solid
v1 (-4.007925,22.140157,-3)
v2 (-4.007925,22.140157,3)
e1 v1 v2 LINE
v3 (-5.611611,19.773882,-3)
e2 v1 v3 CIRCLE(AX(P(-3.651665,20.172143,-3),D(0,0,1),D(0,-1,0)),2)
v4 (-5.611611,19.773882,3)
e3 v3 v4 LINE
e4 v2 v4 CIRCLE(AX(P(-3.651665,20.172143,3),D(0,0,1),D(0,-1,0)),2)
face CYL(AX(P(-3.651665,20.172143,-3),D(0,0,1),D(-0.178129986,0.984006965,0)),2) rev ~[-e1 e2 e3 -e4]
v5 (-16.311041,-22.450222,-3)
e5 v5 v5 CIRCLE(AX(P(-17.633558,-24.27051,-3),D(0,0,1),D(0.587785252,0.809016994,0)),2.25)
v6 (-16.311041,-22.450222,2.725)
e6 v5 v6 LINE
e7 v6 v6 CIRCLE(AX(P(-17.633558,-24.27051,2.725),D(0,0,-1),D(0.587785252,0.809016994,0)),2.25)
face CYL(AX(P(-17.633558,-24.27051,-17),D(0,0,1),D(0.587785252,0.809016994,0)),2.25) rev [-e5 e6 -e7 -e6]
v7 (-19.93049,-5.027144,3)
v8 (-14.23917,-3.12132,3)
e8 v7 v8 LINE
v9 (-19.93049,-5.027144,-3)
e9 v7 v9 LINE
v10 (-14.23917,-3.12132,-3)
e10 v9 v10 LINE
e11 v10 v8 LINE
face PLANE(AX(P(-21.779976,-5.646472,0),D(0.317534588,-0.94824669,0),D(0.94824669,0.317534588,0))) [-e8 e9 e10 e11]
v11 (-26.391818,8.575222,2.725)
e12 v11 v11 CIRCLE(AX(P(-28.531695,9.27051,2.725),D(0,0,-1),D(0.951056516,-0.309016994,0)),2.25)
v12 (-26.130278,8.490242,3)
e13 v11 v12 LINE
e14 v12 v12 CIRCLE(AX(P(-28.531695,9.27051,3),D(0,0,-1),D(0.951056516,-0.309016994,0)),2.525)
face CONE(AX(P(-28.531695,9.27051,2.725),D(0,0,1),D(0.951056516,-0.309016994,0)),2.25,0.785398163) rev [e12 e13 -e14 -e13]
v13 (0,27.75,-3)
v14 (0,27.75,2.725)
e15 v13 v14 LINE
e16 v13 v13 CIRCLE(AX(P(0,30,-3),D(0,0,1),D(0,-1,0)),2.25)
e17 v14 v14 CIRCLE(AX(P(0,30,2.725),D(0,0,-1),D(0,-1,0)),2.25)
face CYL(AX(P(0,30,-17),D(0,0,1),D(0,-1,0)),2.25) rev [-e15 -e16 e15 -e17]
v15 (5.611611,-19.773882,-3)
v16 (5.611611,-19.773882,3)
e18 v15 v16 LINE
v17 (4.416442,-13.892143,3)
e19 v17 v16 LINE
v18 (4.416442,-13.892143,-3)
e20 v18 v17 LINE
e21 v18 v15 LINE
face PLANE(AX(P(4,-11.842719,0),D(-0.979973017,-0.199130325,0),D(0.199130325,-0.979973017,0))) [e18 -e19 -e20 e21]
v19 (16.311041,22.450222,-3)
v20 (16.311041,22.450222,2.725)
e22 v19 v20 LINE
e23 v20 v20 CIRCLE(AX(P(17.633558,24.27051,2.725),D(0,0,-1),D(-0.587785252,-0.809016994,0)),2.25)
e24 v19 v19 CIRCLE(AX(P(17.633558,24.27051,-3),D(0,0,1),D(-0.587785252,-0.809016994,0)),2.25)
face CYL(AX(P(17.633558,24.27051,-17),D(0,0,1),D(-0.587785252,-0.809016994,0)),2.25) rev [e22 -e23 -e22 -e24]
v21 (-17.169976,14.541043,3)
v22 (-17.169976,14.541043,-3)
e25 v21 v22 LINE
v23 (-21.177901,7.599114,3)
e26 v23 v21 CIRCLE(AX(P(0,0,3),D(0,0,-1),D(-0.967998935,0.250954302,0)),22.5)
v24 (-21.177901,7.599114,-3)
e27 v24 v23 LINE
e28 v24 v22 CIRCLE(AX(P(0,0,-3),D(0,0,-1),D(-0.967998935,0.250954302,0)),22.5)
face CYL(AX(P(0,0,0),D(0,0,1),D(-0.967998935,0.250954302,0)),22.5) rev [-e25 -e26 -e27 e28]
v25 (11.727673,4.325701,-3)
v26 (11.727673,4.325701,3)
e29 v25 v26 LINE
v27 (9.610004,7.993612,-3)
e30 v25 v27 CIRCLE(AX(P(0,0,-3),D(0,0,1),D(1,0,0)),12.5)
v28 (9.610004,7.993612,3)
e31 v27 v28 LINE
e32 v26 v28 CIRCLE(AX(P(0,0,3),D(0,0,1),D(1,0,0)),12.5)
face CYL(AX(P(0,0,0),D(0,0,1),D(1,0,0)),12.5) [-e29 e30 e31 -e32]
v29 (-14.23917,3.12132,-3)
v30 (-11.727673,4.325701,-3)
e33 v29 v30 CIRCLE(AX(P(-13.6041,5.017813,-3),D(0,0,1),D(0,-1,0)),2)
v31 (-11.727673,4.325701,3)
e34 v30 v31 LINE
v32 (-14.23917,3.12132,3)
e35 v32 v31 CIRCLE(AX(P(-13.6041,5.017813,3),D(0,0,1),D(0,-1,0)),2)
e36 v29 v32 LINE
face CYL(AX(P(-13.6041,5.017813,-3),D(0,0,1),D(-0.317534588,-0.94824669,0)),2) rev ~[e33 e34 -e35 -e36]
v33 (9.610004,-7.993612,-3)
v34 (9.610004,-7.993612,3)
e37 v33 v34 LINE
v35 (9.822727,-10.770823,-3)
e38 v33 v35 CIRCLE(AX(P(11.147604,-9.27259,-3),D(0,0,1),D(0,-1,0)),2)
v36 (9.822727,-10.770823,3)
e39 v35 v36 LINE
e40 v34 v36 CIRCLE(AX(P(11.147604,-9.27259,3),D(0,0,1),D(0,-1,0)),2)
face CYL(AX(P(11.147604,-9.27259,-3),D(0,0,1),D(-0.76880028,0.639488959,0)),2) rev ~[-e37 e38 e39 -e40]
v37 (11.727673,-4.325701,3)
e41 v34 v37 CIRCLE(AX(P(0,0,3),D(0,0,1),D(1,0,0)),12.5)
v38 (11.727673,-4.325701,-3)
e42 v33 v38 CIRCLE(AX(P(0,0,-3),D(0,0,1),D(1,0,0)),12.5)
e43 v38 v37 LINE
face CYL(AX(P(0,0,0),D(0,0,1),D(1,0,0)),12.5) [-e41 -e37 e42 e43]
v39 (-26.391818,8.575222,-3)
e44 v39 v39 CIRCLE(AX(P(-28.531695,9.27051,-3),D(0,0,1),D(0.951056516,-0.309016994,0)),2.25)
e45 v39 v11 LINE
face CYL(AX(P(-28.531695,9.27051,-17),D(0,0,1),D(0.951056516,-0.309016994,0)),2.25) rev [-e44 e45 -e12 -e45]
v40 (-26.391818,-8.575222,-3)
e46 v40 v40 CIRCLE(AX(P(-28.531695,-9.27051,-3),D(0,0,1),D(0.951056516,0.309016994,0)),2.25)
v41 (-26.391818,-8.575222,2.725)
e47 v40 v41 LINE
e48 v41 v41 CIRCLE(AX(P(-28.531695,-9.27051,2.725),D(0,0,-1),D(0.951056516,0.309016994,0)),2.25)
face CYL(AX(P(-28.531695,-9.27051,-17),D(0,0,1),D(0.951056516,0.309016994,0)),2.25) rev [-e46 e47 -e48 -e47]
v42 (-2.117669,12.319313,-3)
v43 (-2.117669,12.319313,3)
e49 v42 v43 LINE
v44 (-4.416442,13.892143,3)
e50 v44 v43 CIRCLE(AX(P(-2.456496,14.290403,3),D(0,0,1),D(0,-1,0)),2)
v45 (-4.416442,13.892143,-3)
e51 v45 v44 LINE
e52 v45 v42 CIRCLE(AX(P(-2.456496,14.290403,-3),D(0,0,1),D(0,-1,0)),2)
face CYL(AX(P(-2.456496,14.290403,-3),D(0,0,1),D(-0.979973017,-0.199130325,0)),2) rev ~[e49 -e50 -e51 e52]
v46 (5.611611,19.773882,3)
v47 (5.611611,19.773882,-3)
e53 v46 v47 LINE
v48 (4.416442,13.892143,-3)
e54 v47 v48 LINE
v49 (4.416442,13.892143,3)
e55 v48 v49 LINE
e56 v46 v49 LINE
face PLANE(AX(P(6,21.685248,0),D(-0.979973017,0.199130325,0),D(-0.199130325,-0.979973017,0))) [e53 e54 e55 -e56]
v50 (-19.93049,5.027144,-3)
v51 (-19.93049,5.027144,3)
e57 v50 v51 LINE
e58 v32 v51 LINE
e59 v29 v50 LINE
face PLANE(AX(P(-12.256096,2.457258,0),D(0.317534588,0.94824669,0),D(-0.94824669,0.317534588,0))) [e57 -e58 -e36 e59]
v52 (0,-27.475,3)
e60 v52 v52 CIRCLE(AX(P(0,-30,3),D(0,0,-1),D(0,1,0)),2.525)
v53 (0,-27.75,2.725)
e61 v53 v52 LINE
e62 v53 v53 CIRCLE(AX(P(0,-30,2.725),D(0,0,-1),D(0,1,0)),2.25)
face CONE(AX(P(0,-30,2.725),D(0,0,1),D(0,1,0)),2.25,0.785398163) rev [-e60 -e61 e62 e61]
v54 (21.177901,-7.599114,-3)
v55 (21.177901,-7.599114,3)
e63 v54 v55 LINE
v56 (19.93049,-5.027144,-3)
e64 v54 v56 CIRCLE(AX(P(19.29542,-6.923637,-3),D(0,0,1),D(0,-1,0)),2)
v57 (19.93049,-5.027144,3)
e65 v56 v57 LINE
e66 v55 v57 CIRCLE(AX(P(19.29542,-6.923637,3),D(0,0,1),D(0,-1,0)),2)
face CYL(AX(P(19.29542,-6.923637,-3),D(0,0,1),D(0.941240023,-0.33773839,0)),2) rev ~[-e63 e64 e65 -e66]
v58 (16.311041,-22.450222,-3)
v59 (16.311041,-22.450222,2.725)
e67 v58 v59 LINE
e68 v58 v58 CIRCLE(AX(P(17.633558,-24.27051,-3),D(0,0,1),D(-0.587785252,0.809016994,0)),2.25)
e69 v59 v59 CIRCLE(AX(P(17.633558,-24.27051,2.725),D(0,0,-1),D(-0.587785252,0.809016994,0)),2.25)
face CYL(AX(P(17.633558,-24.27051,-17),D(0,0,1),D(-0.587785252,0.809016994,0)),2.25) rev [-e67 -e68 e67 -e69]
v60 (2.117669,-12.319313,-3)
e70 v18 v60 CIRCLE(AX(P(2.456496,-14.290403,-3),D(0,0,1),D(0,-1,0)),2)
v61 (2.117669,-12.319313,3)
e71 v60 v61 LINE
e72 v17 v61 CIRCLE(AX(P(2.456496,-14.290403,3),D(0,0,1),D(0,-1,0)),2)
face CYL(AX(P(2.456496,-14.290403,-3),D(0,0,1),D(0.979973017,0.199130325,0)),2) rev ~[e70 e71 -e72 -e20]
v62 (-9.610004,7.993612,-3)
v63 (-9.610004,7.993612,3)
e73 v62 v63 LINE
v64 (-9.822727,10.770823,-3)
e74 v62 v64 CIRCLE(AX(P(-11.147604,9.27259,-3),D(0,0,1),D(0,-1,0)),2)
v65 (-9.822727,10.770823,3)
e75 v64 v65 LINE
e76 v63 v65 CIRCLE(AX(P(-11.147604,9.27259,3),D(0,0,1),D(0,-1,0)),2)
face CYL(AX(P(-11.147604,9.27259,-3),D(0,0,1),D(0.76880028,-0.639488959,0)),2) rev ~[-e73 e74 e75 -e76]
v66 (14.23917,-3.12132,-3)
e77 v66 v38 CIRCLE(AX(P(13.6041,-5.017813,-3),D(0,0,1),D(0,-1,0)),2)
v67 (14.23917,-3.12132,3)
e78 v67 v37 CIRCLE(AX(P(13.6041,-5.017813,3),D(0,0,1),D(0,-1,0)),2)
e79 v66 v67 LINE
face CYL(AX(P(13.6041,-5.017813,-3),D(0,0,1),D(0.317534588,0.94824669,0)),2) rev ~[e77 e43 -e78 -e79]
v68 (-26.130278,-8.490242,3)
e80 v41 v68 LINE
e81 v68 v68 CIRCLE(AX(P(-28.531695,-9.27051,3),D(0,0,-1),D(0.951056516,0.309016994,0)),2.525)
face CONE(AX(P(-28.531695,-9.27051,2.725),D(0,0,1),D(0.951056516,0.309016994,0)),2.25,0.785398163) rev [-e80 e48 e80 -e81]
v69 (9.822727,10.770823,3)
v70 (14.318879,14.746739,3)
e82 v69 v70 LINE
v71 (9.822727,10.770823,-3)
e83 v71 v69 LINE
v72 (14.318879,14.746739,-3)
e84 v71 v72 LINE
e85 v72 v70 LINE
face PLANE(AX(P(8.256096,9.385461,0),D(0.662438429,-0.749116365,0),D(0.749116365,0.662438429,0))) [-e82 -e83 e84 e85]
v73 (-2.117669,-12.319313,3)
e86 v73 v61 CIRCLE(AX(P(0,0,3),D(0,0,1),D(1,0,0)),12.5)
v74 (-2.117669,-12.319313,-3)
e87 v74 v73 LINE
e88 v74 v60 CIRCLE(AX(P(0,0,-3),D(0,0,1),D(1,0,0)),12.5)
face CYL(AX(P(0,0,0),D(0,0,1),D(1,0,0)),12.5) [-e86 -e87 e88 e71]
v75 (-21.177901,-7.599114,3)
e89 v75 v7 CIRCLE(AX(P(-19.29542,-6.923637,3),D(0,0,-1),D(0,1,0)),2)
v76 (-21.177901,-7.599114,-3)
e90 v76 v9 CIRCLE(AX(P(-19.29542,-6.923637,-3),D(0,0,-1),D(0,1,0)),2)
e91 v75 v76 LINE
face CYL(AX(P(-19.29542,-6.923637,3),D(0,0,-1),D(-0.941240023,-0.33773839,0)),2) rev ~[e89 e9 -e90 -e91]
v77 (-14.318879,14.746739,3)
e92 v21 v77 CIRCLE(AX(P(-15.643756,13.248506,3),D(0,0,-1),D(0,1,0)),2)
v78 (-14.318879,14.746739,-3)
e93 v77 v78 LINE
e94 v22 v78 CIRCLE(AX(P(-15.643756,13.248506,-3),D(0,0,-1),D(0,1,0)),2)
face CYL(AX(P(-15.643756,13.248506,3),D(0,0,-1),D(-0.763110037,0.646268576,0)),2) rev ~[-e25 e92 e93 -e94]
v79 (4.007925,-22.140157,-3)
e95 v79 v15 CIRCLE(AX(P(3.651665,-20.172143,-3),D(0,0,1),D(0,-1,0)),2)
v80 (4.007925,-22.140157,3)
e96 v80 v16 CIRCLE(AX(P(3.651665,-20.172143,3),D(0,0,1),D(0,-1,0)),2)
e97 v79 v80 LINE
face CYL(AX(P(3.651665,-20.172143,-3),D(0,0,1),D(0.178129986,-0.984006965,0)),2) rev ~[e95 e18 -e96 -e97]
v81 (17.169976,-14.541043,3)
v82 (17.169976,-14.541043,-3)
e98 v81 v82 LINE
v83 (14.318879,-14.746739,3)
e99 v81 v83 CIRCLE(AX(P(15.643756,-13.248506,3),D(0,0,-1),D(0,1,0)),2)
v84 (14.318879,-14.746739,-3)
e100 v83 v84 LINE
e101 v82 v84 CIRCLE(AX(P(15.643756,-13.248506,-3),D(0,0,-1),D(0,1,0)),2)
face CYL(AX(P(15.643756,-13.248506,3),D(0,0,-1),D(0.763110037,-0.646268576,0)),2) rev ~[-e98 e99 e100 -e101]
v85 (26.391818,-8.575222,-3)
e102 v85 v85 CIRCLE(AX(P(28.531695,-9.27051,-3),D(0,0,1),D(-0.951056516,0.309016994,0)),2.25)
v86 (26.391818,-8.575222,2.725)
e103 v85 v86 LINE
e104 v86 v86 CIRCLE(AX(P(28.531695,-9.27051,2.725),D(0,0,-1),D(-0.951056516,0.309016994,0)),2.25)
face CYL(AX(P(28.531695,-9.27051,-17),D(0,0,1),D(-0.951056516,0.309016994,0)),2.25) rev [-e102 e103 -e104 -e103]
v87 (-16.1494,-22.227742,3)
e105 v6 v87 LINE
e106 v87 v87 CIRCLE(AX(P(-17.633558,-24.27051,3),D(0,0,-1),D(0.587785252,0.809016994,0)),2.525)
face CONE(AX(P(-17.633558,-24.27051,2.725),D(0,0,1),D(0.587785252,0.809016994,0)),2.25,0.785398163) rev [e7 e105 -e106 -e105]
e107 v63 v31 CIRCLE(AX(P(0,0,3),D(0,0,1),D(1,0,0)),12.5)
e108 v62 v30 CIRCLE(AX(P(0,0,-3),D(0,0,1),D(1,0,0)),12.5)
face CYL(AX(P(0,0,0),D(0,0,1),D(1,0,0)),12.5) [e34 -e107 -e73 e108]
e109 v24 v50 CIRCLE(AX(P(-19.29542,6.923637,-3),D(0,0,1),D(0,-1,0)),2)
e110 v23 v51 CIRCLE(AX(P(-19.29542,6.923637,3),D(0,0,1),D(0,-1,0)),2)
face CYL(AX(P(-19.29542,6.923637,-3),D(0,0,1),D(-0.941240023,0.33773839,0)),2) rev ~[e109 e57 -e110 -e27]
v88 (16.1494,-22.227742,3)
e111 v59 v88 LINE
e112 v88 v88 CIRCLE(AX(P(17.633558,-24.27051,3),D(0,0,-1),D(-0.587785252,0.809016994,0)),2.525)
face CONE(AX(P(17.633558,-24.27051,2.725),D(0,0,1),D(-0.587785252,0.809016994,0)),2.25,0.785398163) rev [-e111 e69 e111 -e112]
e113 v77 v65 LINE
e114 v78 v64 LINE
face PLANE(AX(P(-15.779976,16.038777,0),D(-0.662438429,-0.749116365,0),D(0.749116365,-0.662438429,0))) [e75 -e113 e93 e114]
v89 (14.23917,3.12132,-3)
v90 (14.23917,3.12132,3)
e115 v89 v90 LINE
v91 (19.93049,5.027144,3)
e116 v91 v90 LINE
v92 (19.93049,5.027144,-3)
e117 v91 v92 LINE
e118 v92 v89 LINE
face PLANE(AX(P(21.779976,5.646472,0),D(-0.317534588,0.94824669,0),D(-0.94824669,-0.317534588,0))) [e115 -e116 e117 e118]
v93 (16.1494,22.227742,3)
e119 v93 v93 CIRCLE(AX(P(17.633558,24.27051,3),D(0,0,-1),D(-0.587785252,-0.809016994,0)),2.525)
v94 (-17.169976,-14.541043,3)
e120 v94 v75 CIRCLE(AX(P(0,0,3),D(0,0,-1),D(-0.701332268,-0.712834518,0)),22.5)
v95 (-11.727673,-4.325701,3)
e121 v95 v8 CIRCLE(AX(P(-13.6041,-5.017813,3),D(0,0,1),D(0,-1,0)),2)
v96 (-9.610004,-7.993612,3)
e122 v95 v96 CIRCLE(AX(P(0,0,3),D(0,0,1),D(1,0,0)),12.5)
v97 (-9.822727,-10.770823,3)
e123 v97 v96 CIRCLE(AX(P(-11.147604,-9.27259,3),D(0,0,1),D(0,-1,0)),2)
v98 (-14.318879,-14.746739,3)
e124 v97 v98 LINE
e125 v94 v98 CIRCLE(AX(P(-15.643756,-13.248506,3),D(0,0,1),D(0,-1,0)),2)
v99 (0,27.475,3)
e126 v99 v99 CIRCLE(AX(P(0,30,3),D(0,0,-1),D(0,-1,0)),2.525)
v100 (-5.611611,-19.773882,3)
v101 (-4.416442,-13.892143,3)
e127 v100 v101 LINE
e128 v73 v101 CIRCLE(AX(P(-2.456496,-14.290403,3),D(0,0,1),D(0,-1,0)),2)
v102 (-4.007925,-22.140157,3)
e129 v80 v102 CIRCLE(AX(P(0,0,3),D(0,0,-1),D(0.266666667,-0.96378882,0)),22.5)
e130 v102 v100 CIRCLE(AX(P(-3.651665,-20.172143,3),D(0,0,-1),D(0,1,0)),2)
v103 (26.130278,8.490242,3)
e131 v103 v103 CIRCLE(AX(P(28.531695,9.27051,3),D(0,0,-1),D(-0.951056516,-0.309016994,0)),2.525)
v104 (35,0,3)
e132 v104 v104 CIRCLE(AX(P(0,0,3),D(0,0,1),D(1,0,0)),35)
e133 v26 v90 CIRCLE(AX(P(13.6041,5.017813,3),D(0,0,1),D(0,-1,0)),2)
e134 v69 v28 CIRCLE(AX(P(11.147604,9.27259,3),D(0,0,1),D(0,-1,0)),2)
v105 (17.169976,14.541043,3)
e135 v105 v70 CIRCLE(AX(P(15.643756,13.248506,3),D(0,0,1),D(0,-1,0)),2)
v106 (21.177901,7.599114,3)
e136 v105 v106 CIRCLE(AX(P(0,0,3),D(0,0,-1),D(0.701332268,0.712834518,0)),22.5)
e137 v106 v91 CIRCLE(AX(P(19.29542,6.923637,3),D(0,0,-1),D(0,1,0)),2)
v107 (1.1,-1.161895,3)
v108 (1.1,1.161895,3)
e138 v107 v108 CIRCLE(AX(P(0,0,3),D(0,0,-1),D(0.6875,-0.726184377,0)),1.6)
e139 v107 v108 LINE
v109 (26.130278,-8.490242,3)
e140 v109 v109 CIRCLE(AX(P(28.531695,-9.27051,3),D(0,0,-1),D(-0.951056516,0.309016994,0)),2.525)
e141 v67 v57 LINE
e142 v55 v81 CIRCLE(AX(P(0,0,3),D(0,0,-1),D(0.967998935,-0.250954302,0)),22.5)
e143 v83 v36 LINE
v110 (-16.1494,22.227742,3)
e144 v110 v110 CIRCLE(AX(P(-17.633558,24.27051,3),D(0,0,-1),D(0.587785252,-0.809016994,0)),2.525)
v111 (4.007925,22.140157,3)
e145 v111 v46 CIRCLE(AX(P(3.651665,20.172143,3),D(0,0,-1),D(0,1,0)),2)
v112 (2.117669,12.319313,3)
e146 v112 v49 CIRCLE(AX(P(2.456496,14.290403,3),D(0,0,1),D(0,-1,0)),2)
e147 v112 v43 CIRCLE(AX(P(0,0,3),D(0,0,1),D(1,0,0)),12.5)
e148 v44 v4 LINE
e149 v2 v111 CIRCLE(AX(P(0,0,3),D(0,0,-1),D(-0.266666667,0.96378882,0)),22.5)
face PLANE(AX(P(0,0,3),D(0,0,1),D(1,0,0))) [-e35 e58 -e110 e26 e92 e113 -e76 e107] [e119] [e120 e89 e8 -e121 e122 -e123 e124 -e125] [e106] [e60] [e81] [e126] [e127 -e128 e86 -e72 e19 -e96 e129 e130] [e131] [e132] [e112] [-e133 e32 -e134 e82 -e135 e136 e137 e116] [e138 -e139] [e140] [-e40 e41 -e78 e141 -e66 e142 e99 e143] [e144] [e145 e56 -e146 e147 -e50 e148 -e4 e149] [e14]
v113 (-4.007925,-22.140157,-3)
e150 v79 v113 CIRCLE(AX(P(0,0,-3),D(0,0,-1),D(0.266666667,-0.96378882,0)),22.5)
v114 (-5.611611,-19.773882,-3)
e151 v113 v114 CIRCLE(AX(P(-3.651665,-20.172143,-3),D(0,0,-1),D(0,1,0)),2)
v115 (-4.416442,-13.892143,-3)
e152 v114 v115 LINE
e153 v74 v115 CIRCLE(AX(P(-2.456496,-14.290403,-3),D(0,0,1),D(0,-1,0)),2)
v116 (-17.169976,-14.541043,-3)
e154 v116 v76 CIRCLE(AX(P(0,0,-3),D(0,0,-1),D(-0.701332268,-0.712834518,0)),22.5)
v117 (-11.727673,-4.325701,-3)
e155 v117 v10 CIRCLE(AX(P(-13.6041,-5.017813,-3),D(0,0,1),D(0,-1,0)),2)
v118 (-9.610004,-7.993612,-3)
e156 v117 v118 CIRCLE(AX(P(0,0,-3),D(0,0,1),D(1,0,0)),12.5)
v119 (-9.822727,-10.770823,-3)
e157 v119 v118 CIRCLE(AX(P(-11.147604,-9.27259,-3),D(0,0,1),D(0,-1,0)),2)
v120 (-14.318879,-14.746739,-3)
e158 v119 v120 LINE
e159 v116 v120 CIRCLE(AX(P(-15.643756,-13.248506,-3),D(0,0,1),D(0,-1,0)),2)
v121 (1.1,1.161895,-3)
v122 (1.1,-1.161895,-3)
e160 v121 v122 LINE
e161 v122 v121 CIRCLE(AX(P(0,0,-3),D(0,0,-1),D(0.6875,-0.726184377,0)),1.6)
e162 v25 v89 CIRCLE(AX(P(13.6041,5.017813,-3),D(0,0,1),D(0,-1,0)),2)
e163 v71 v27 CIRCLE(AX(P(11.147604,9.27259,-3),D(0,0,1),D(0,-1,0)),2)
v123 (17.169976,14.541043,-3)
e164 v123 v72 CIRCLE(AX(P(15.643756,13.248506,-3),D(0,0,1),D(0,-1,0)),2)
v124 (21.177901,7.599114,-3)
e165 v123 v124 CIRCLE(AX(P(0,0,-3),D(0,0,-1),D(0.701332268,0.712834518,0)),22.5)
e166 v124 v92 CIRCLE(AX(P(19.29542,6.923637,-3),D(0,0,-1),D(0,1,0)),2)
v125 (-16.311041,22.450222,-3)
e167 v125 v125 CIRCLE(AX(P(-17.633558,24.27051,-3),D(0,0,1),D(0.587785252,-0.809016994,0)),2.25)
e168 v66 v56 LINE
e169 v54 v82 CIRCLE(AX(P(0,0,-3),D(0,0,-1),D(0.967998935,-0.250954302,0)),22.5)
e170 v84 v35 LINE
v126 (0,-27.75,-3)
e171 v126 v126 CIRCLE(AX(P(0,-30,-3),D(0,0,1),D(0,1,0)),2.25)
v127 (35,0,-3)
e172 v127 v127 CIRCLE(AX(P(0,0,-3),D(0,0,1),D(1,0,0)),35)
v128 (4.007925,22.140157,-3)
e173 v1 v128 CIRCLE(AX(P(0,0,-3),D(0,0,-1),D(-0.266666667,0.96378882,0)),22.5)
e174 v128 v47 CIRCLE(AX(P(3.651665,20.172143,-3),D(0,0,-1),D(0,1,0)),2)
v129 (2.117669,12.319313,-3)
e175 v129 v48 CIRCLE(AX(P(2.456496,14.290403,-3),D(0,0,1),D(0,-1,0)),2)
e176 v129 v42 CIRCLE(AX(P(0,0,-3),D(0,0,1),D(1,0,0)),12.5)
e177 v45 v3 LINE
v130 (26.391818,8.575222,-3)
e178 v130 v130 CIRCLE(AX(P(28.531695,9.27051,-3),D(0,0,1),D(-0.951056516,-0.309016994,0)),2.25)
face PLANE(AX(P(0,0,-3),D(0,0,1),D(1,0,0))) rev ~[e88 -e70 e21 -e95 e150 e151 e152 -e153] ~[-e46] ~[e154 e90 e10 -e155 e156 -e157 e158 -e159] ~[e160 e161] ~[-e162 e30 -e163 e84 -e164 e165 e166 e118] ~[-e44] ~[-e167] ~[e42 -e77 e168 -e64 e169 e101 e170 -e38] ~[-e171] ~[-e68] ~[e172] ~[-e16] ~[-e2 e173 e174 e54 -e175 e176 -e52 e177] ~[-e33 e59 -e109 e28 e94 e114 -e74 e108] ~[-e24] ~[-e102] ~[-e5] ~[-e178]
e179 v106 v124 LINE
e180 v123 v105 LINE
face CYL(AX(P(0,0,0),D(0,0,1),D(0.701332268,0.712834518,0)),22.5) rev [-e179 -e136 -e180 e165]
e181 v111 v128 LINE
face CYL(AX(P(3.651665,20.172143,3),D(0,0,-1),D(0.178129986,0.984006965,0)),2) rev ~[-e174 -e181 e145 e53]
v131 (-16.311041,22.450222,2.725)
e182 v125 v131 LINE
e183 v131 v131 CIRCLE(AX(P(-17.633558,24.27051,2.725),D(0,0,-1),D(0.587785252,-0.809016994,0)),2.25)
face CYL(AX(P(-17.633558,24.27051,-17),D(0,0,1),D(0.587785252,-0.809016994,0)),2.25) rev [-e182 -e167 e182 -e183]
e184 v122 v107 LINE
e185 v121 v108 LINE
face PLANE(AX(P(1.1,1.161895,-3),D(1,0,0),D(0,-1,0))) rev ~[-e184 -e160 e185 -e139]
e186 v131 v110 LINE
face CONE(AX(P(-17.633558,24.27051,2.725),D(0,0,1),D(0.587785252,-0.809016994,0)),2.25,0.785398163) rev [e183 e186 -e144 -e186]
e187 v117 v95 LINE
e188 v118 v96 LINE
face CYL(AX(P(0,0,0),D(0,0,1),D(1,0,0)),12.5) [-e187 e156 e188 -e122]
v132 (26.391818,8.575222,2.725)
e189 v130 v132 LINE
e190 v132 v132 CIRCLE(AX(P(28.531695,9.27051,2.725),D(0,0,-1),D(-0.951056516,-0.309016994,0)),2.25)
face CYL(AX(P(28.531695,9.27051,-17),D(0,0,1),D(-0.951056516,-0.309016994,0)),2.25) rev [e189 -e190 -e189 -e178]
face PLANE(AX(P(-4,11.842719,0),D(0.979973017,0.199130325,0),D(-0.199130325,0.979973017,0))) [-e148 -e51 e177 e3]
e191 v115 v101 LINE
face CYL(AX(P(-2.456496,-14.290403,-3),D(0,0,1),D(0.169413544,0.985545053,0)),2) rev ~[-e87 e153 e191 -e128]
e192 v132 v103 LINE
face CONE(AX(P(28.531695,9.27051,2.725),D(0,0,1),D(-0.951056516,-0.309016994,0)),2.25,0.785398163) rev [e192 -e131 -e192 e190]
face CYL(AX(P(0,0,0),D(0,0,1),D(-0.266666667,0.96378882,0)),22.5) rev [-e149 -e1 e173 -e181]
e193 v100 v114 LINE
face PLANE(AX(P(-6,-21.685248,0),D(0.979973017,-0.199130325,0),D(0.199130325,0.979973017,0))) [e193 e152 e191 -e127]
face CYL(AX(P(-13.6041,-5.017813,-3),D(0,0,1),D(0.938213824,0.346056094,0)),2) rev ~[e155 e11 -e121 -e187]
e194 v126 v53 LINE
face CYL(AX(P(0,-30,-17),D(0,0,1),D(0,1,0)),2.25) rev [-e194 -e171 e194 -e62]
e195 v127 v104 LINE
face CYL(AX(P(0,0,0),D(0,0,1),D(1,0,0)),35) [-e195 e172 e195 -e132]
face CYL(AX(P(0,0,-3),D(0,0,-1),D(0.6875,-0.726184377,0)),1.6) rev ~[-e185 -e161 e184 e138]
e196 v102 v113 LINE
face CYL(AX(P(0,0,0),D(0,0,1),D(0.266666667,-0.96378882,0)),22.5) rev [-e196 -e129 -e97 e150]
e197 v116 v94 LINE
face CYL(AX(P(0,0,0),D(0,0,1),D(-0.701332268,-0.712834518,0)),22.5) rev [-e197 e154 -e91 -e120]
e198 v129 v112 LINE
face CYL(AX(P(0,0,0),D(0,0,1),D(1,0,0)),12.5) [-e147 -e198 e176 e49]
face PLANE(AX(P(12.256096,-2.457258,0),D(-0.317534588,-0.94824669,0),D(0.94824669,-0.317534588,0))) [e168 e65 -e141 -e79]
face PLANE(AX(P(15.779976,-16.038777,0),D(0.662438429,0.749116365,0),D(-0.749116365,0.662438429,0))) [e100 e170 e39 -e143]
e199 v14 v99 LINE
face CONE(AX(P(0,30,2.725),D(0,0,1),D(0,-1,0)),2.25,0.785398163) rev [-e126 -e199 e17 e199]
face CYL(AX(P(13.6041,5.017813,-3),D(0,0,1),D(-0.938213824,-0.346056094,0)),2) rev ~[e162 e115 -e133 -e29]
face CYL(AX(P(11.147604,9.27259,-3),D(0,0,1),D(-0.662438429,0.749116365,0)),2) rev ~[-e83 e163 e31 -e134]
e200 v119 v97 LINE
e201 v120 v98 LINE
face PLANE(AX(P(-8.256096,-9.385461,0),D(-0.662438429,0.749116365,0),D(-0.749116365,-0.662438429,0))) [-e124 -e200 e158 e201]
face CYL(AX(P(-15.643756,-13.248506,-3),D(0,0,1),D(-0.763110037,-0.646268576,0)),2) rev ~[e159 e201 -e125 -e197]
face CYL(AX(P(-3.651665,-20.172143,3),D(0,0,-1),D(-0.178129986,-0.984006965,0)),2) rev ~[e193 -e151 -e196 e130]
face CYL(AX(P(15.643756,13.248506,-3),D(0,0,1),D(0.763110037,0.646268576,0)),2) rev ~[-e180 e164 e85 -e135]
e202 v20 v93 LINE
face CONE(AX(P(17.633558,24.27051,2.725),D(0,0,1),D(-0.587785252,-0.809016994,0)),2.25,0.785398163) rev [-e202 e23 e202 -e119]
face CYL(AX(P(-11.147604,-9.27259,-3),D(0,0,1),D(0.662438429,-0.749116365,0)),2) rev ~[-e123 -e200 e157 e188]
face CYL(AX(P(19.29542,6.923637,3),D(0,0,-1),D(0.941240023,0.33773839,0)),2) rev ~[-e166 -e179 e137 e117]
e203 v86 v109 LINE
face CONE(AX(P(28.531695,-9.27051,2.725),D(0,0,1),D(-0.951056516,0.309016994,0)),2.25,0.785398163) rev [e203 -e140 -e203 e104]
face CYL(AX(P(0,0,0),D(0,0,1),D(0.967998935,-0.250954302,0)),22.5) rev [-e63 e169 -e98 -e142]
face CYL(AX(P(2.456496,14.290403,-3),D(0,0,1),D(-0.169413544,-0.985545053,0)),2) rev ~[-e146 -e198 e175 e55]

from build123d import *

# Parameters (mm, degrees)
SKETCH1_R               = 35
SKETCH1_R_2             = 12.5
BOSS_EXTRUDE2_DEPTH     = 3
FILLET1_R               = 2
CUT_EXTRUDE1_DEPTH      = 50.859803449
CUT_EXTRUDE1_DEPTH_BACK = 50.859803449
CIRPATTERN4_COUNT       = 10


with BuildPart() as part:
    # Sketch1 → Boss-Extrude2 (new, symmetric)
    with BuildSketch(Plane.XY):
        Circle(SKETCH1_R)
        with BuildLine():
            ThreePointArc((-8.256095748, 9.385461256), (-6.25, 10.825317547), (-4, 11.842719282))
            Line((-4, 11.842719282), (-6, 21.685248442))
            ThreePointArc((-6, 21.685248442), (0, 22.5), (6, 21.685248442))
            Line((6, 21.685248442), (4, 11.842719282))
            ThreePointArc((4, 11.842719282), (6.25, 10.825317547), (8.256095748, 9.385461256))
            Line((8.256095748, 9.385461256), (15.779976038, 16.038776644))
            ThreePointArc((15.779976038, 16.038776644), (19.485571585, 11.25), (21.779976038, 5.646471798))
            Line((21.779976038, 5.646471798), (12.256095748, 2.457258026))
            ThreePointArc((12.256095748, 2.457258026), (12.438874484, 1.234666584), (12.5, 0))
            ThreePointArc((12.5, 0), (12.438874484, -1.234666584), (12.256095748, -2.457258026))
            Line((12.256095748, -2.457258026), (21.779976038, -5.646471798))
            ThreePointArc((21.779976038, -5.646471798), (19.485571585, -11.25), (15.779976038, -16.038776644))
            Line((15.779976038, -16.038776644), (8.256095748, -9.385461256))
            ThreePointArc((8.256095748, -9.385461256), (6.25, -10.825317547), (4, -11.842719282))
            Line((4, -11.842719282), (6, -21.685248442))
            ThreePointArc((6, -21.685248442), (0, -22.5), (-6, -21.685248442))
            Line((-6, -21.685248442), (-4, -11.842719282))
            ThreePointArc((-4, -11.842719282), (-6.25, -10.825317547), (-8.256095748, -9.385461256))
            Line((-8.256095748, -9.385461256), (-15.779976038, -16.038776644))
            ThreePointArc((-15.779976038, -16.038776644), (-19.485571585, -11.25), (-21.779976038, -5.646471798))
            Line((-21.779976038, -5.646471798), (-12.256095748, -2.457258026))
            ThreePointArc((-12.256095748, -2.457258026), (-12.5, 0), (-12.256095748, 2.457258026))
            Line((-12.256095748, 2.457258026), (-21.779976038, 5.646471798))
            ThreePointArc((-21.779976038, 5.646471798), (-19.485571585, 11.25), (-15.779976038, 16.038776644))
            Line((-15.779976038, 16.038776644), (-8.256095748, 9.385461256))
        make_face(mode=Mode.SUBTRACT)
        Circle(SKETCH1_R_2)
    extrude(amount=BOSS_EXTRUDE2_DEPTH, both=True)

    # Fillet1
    fillet1_edges = [part.edges().sort_by_distance(p)[0] for p in [
        (8.256095748, -9.385461256, 0),
        (15.779976038, -16.038776644, 0),
        (21.779976038, -5.646471798, 0),
        (12.256095748, -2.457258026, 0),
        (-6, -21.685248442, 0),
        (6, -21.685248442, 0),
        (4, -11.842719282, 0),
        (-4, -11.842719282, 0),
        (-21.779976038, -5.646471798, 0),
        (-15.779976038, -16.038776644, 0),
        (-8.256095748, -9.385461256, 0),
        (-12.256095748, -2.457258026, 0),
        (-15.779976038, 16.038776644, 0),
        (-21.779976038, 5.646471798, 0),
        (-12.256095748, 2.457258026, 0),
        (-8.256095748, 9.385461256, 0),
        (6, 21.685248442, 0),
        (-6, 21.685248442, 0),
        (-4, 11.842719282, 0),
        (4, 11.842719282, 0),
        (21.779976038, 5.646471798, 0),
        (15.779976038, 16.038776644, 0),
        (8.256095748, 9.385461256, 0),
        (12.256095748, 2.457258026, 0),
    ]]
    fillet(fillet1_edges, radius=FILLET1_R)

    # Sketch4 → Cut-Extrude1 (cut, two sides)
    with BuildSketch(Plane(origin=(0, 0, -3), x_dir=(-1, 0, 0), z_dir=(0, 0, -1))) as cut_extrude1_sk:
        with BuildLine():
            Line((-1.1, 1.161895004), (-1.1, -1.161895004))
            ThreePointArc((-1.1, -1.161895004), (1.6, 0), (-1.1, 1.161895004))
        make_face()
    extrude(amount=CUT_EXTRUDE1_DEPTH, mode=Mode.SUBTRACT)
    extrude(cut_extrude1_sk.sketch, amount=-CUT_EXTRUDE1_DEPTH_BACK, mode=Mode.SUBTRACT)

    # Sketch6 → Ø5.0mm Dowel Hole1 (revolve, cut)
    with BuildSketch(Plane(origin=(0, 30, 3), x_dir=(0, -1, 0), z_dir=(1, 0, 0))):
        Polygon((0, 0), (0, 21.351936393), (2.25, 20), (2.25, 0.275), (2.525, 0), align=None)
    f_5_0mm_dowel_hole1 = revolve(axis=Axis((0, 30, 9.35), (0, 0, -1)), mode=Mode.SUBTRACT)

    # CirPattern4: Ø5.0mm Dowel Hole1 ×10 about axis
    cirpattern4_axis = Axis((0, 0, 0), (0, 0, 1))
    for i in range(1, CIRPATTERN4_COUNT):
        add(f_5_0mm_dowel_hole1.rotate(cirpattern4_axis, i * 360 / CIRPATTERN4_COUNT), mode=Mode.SUBTRACT)


solid = part.part
